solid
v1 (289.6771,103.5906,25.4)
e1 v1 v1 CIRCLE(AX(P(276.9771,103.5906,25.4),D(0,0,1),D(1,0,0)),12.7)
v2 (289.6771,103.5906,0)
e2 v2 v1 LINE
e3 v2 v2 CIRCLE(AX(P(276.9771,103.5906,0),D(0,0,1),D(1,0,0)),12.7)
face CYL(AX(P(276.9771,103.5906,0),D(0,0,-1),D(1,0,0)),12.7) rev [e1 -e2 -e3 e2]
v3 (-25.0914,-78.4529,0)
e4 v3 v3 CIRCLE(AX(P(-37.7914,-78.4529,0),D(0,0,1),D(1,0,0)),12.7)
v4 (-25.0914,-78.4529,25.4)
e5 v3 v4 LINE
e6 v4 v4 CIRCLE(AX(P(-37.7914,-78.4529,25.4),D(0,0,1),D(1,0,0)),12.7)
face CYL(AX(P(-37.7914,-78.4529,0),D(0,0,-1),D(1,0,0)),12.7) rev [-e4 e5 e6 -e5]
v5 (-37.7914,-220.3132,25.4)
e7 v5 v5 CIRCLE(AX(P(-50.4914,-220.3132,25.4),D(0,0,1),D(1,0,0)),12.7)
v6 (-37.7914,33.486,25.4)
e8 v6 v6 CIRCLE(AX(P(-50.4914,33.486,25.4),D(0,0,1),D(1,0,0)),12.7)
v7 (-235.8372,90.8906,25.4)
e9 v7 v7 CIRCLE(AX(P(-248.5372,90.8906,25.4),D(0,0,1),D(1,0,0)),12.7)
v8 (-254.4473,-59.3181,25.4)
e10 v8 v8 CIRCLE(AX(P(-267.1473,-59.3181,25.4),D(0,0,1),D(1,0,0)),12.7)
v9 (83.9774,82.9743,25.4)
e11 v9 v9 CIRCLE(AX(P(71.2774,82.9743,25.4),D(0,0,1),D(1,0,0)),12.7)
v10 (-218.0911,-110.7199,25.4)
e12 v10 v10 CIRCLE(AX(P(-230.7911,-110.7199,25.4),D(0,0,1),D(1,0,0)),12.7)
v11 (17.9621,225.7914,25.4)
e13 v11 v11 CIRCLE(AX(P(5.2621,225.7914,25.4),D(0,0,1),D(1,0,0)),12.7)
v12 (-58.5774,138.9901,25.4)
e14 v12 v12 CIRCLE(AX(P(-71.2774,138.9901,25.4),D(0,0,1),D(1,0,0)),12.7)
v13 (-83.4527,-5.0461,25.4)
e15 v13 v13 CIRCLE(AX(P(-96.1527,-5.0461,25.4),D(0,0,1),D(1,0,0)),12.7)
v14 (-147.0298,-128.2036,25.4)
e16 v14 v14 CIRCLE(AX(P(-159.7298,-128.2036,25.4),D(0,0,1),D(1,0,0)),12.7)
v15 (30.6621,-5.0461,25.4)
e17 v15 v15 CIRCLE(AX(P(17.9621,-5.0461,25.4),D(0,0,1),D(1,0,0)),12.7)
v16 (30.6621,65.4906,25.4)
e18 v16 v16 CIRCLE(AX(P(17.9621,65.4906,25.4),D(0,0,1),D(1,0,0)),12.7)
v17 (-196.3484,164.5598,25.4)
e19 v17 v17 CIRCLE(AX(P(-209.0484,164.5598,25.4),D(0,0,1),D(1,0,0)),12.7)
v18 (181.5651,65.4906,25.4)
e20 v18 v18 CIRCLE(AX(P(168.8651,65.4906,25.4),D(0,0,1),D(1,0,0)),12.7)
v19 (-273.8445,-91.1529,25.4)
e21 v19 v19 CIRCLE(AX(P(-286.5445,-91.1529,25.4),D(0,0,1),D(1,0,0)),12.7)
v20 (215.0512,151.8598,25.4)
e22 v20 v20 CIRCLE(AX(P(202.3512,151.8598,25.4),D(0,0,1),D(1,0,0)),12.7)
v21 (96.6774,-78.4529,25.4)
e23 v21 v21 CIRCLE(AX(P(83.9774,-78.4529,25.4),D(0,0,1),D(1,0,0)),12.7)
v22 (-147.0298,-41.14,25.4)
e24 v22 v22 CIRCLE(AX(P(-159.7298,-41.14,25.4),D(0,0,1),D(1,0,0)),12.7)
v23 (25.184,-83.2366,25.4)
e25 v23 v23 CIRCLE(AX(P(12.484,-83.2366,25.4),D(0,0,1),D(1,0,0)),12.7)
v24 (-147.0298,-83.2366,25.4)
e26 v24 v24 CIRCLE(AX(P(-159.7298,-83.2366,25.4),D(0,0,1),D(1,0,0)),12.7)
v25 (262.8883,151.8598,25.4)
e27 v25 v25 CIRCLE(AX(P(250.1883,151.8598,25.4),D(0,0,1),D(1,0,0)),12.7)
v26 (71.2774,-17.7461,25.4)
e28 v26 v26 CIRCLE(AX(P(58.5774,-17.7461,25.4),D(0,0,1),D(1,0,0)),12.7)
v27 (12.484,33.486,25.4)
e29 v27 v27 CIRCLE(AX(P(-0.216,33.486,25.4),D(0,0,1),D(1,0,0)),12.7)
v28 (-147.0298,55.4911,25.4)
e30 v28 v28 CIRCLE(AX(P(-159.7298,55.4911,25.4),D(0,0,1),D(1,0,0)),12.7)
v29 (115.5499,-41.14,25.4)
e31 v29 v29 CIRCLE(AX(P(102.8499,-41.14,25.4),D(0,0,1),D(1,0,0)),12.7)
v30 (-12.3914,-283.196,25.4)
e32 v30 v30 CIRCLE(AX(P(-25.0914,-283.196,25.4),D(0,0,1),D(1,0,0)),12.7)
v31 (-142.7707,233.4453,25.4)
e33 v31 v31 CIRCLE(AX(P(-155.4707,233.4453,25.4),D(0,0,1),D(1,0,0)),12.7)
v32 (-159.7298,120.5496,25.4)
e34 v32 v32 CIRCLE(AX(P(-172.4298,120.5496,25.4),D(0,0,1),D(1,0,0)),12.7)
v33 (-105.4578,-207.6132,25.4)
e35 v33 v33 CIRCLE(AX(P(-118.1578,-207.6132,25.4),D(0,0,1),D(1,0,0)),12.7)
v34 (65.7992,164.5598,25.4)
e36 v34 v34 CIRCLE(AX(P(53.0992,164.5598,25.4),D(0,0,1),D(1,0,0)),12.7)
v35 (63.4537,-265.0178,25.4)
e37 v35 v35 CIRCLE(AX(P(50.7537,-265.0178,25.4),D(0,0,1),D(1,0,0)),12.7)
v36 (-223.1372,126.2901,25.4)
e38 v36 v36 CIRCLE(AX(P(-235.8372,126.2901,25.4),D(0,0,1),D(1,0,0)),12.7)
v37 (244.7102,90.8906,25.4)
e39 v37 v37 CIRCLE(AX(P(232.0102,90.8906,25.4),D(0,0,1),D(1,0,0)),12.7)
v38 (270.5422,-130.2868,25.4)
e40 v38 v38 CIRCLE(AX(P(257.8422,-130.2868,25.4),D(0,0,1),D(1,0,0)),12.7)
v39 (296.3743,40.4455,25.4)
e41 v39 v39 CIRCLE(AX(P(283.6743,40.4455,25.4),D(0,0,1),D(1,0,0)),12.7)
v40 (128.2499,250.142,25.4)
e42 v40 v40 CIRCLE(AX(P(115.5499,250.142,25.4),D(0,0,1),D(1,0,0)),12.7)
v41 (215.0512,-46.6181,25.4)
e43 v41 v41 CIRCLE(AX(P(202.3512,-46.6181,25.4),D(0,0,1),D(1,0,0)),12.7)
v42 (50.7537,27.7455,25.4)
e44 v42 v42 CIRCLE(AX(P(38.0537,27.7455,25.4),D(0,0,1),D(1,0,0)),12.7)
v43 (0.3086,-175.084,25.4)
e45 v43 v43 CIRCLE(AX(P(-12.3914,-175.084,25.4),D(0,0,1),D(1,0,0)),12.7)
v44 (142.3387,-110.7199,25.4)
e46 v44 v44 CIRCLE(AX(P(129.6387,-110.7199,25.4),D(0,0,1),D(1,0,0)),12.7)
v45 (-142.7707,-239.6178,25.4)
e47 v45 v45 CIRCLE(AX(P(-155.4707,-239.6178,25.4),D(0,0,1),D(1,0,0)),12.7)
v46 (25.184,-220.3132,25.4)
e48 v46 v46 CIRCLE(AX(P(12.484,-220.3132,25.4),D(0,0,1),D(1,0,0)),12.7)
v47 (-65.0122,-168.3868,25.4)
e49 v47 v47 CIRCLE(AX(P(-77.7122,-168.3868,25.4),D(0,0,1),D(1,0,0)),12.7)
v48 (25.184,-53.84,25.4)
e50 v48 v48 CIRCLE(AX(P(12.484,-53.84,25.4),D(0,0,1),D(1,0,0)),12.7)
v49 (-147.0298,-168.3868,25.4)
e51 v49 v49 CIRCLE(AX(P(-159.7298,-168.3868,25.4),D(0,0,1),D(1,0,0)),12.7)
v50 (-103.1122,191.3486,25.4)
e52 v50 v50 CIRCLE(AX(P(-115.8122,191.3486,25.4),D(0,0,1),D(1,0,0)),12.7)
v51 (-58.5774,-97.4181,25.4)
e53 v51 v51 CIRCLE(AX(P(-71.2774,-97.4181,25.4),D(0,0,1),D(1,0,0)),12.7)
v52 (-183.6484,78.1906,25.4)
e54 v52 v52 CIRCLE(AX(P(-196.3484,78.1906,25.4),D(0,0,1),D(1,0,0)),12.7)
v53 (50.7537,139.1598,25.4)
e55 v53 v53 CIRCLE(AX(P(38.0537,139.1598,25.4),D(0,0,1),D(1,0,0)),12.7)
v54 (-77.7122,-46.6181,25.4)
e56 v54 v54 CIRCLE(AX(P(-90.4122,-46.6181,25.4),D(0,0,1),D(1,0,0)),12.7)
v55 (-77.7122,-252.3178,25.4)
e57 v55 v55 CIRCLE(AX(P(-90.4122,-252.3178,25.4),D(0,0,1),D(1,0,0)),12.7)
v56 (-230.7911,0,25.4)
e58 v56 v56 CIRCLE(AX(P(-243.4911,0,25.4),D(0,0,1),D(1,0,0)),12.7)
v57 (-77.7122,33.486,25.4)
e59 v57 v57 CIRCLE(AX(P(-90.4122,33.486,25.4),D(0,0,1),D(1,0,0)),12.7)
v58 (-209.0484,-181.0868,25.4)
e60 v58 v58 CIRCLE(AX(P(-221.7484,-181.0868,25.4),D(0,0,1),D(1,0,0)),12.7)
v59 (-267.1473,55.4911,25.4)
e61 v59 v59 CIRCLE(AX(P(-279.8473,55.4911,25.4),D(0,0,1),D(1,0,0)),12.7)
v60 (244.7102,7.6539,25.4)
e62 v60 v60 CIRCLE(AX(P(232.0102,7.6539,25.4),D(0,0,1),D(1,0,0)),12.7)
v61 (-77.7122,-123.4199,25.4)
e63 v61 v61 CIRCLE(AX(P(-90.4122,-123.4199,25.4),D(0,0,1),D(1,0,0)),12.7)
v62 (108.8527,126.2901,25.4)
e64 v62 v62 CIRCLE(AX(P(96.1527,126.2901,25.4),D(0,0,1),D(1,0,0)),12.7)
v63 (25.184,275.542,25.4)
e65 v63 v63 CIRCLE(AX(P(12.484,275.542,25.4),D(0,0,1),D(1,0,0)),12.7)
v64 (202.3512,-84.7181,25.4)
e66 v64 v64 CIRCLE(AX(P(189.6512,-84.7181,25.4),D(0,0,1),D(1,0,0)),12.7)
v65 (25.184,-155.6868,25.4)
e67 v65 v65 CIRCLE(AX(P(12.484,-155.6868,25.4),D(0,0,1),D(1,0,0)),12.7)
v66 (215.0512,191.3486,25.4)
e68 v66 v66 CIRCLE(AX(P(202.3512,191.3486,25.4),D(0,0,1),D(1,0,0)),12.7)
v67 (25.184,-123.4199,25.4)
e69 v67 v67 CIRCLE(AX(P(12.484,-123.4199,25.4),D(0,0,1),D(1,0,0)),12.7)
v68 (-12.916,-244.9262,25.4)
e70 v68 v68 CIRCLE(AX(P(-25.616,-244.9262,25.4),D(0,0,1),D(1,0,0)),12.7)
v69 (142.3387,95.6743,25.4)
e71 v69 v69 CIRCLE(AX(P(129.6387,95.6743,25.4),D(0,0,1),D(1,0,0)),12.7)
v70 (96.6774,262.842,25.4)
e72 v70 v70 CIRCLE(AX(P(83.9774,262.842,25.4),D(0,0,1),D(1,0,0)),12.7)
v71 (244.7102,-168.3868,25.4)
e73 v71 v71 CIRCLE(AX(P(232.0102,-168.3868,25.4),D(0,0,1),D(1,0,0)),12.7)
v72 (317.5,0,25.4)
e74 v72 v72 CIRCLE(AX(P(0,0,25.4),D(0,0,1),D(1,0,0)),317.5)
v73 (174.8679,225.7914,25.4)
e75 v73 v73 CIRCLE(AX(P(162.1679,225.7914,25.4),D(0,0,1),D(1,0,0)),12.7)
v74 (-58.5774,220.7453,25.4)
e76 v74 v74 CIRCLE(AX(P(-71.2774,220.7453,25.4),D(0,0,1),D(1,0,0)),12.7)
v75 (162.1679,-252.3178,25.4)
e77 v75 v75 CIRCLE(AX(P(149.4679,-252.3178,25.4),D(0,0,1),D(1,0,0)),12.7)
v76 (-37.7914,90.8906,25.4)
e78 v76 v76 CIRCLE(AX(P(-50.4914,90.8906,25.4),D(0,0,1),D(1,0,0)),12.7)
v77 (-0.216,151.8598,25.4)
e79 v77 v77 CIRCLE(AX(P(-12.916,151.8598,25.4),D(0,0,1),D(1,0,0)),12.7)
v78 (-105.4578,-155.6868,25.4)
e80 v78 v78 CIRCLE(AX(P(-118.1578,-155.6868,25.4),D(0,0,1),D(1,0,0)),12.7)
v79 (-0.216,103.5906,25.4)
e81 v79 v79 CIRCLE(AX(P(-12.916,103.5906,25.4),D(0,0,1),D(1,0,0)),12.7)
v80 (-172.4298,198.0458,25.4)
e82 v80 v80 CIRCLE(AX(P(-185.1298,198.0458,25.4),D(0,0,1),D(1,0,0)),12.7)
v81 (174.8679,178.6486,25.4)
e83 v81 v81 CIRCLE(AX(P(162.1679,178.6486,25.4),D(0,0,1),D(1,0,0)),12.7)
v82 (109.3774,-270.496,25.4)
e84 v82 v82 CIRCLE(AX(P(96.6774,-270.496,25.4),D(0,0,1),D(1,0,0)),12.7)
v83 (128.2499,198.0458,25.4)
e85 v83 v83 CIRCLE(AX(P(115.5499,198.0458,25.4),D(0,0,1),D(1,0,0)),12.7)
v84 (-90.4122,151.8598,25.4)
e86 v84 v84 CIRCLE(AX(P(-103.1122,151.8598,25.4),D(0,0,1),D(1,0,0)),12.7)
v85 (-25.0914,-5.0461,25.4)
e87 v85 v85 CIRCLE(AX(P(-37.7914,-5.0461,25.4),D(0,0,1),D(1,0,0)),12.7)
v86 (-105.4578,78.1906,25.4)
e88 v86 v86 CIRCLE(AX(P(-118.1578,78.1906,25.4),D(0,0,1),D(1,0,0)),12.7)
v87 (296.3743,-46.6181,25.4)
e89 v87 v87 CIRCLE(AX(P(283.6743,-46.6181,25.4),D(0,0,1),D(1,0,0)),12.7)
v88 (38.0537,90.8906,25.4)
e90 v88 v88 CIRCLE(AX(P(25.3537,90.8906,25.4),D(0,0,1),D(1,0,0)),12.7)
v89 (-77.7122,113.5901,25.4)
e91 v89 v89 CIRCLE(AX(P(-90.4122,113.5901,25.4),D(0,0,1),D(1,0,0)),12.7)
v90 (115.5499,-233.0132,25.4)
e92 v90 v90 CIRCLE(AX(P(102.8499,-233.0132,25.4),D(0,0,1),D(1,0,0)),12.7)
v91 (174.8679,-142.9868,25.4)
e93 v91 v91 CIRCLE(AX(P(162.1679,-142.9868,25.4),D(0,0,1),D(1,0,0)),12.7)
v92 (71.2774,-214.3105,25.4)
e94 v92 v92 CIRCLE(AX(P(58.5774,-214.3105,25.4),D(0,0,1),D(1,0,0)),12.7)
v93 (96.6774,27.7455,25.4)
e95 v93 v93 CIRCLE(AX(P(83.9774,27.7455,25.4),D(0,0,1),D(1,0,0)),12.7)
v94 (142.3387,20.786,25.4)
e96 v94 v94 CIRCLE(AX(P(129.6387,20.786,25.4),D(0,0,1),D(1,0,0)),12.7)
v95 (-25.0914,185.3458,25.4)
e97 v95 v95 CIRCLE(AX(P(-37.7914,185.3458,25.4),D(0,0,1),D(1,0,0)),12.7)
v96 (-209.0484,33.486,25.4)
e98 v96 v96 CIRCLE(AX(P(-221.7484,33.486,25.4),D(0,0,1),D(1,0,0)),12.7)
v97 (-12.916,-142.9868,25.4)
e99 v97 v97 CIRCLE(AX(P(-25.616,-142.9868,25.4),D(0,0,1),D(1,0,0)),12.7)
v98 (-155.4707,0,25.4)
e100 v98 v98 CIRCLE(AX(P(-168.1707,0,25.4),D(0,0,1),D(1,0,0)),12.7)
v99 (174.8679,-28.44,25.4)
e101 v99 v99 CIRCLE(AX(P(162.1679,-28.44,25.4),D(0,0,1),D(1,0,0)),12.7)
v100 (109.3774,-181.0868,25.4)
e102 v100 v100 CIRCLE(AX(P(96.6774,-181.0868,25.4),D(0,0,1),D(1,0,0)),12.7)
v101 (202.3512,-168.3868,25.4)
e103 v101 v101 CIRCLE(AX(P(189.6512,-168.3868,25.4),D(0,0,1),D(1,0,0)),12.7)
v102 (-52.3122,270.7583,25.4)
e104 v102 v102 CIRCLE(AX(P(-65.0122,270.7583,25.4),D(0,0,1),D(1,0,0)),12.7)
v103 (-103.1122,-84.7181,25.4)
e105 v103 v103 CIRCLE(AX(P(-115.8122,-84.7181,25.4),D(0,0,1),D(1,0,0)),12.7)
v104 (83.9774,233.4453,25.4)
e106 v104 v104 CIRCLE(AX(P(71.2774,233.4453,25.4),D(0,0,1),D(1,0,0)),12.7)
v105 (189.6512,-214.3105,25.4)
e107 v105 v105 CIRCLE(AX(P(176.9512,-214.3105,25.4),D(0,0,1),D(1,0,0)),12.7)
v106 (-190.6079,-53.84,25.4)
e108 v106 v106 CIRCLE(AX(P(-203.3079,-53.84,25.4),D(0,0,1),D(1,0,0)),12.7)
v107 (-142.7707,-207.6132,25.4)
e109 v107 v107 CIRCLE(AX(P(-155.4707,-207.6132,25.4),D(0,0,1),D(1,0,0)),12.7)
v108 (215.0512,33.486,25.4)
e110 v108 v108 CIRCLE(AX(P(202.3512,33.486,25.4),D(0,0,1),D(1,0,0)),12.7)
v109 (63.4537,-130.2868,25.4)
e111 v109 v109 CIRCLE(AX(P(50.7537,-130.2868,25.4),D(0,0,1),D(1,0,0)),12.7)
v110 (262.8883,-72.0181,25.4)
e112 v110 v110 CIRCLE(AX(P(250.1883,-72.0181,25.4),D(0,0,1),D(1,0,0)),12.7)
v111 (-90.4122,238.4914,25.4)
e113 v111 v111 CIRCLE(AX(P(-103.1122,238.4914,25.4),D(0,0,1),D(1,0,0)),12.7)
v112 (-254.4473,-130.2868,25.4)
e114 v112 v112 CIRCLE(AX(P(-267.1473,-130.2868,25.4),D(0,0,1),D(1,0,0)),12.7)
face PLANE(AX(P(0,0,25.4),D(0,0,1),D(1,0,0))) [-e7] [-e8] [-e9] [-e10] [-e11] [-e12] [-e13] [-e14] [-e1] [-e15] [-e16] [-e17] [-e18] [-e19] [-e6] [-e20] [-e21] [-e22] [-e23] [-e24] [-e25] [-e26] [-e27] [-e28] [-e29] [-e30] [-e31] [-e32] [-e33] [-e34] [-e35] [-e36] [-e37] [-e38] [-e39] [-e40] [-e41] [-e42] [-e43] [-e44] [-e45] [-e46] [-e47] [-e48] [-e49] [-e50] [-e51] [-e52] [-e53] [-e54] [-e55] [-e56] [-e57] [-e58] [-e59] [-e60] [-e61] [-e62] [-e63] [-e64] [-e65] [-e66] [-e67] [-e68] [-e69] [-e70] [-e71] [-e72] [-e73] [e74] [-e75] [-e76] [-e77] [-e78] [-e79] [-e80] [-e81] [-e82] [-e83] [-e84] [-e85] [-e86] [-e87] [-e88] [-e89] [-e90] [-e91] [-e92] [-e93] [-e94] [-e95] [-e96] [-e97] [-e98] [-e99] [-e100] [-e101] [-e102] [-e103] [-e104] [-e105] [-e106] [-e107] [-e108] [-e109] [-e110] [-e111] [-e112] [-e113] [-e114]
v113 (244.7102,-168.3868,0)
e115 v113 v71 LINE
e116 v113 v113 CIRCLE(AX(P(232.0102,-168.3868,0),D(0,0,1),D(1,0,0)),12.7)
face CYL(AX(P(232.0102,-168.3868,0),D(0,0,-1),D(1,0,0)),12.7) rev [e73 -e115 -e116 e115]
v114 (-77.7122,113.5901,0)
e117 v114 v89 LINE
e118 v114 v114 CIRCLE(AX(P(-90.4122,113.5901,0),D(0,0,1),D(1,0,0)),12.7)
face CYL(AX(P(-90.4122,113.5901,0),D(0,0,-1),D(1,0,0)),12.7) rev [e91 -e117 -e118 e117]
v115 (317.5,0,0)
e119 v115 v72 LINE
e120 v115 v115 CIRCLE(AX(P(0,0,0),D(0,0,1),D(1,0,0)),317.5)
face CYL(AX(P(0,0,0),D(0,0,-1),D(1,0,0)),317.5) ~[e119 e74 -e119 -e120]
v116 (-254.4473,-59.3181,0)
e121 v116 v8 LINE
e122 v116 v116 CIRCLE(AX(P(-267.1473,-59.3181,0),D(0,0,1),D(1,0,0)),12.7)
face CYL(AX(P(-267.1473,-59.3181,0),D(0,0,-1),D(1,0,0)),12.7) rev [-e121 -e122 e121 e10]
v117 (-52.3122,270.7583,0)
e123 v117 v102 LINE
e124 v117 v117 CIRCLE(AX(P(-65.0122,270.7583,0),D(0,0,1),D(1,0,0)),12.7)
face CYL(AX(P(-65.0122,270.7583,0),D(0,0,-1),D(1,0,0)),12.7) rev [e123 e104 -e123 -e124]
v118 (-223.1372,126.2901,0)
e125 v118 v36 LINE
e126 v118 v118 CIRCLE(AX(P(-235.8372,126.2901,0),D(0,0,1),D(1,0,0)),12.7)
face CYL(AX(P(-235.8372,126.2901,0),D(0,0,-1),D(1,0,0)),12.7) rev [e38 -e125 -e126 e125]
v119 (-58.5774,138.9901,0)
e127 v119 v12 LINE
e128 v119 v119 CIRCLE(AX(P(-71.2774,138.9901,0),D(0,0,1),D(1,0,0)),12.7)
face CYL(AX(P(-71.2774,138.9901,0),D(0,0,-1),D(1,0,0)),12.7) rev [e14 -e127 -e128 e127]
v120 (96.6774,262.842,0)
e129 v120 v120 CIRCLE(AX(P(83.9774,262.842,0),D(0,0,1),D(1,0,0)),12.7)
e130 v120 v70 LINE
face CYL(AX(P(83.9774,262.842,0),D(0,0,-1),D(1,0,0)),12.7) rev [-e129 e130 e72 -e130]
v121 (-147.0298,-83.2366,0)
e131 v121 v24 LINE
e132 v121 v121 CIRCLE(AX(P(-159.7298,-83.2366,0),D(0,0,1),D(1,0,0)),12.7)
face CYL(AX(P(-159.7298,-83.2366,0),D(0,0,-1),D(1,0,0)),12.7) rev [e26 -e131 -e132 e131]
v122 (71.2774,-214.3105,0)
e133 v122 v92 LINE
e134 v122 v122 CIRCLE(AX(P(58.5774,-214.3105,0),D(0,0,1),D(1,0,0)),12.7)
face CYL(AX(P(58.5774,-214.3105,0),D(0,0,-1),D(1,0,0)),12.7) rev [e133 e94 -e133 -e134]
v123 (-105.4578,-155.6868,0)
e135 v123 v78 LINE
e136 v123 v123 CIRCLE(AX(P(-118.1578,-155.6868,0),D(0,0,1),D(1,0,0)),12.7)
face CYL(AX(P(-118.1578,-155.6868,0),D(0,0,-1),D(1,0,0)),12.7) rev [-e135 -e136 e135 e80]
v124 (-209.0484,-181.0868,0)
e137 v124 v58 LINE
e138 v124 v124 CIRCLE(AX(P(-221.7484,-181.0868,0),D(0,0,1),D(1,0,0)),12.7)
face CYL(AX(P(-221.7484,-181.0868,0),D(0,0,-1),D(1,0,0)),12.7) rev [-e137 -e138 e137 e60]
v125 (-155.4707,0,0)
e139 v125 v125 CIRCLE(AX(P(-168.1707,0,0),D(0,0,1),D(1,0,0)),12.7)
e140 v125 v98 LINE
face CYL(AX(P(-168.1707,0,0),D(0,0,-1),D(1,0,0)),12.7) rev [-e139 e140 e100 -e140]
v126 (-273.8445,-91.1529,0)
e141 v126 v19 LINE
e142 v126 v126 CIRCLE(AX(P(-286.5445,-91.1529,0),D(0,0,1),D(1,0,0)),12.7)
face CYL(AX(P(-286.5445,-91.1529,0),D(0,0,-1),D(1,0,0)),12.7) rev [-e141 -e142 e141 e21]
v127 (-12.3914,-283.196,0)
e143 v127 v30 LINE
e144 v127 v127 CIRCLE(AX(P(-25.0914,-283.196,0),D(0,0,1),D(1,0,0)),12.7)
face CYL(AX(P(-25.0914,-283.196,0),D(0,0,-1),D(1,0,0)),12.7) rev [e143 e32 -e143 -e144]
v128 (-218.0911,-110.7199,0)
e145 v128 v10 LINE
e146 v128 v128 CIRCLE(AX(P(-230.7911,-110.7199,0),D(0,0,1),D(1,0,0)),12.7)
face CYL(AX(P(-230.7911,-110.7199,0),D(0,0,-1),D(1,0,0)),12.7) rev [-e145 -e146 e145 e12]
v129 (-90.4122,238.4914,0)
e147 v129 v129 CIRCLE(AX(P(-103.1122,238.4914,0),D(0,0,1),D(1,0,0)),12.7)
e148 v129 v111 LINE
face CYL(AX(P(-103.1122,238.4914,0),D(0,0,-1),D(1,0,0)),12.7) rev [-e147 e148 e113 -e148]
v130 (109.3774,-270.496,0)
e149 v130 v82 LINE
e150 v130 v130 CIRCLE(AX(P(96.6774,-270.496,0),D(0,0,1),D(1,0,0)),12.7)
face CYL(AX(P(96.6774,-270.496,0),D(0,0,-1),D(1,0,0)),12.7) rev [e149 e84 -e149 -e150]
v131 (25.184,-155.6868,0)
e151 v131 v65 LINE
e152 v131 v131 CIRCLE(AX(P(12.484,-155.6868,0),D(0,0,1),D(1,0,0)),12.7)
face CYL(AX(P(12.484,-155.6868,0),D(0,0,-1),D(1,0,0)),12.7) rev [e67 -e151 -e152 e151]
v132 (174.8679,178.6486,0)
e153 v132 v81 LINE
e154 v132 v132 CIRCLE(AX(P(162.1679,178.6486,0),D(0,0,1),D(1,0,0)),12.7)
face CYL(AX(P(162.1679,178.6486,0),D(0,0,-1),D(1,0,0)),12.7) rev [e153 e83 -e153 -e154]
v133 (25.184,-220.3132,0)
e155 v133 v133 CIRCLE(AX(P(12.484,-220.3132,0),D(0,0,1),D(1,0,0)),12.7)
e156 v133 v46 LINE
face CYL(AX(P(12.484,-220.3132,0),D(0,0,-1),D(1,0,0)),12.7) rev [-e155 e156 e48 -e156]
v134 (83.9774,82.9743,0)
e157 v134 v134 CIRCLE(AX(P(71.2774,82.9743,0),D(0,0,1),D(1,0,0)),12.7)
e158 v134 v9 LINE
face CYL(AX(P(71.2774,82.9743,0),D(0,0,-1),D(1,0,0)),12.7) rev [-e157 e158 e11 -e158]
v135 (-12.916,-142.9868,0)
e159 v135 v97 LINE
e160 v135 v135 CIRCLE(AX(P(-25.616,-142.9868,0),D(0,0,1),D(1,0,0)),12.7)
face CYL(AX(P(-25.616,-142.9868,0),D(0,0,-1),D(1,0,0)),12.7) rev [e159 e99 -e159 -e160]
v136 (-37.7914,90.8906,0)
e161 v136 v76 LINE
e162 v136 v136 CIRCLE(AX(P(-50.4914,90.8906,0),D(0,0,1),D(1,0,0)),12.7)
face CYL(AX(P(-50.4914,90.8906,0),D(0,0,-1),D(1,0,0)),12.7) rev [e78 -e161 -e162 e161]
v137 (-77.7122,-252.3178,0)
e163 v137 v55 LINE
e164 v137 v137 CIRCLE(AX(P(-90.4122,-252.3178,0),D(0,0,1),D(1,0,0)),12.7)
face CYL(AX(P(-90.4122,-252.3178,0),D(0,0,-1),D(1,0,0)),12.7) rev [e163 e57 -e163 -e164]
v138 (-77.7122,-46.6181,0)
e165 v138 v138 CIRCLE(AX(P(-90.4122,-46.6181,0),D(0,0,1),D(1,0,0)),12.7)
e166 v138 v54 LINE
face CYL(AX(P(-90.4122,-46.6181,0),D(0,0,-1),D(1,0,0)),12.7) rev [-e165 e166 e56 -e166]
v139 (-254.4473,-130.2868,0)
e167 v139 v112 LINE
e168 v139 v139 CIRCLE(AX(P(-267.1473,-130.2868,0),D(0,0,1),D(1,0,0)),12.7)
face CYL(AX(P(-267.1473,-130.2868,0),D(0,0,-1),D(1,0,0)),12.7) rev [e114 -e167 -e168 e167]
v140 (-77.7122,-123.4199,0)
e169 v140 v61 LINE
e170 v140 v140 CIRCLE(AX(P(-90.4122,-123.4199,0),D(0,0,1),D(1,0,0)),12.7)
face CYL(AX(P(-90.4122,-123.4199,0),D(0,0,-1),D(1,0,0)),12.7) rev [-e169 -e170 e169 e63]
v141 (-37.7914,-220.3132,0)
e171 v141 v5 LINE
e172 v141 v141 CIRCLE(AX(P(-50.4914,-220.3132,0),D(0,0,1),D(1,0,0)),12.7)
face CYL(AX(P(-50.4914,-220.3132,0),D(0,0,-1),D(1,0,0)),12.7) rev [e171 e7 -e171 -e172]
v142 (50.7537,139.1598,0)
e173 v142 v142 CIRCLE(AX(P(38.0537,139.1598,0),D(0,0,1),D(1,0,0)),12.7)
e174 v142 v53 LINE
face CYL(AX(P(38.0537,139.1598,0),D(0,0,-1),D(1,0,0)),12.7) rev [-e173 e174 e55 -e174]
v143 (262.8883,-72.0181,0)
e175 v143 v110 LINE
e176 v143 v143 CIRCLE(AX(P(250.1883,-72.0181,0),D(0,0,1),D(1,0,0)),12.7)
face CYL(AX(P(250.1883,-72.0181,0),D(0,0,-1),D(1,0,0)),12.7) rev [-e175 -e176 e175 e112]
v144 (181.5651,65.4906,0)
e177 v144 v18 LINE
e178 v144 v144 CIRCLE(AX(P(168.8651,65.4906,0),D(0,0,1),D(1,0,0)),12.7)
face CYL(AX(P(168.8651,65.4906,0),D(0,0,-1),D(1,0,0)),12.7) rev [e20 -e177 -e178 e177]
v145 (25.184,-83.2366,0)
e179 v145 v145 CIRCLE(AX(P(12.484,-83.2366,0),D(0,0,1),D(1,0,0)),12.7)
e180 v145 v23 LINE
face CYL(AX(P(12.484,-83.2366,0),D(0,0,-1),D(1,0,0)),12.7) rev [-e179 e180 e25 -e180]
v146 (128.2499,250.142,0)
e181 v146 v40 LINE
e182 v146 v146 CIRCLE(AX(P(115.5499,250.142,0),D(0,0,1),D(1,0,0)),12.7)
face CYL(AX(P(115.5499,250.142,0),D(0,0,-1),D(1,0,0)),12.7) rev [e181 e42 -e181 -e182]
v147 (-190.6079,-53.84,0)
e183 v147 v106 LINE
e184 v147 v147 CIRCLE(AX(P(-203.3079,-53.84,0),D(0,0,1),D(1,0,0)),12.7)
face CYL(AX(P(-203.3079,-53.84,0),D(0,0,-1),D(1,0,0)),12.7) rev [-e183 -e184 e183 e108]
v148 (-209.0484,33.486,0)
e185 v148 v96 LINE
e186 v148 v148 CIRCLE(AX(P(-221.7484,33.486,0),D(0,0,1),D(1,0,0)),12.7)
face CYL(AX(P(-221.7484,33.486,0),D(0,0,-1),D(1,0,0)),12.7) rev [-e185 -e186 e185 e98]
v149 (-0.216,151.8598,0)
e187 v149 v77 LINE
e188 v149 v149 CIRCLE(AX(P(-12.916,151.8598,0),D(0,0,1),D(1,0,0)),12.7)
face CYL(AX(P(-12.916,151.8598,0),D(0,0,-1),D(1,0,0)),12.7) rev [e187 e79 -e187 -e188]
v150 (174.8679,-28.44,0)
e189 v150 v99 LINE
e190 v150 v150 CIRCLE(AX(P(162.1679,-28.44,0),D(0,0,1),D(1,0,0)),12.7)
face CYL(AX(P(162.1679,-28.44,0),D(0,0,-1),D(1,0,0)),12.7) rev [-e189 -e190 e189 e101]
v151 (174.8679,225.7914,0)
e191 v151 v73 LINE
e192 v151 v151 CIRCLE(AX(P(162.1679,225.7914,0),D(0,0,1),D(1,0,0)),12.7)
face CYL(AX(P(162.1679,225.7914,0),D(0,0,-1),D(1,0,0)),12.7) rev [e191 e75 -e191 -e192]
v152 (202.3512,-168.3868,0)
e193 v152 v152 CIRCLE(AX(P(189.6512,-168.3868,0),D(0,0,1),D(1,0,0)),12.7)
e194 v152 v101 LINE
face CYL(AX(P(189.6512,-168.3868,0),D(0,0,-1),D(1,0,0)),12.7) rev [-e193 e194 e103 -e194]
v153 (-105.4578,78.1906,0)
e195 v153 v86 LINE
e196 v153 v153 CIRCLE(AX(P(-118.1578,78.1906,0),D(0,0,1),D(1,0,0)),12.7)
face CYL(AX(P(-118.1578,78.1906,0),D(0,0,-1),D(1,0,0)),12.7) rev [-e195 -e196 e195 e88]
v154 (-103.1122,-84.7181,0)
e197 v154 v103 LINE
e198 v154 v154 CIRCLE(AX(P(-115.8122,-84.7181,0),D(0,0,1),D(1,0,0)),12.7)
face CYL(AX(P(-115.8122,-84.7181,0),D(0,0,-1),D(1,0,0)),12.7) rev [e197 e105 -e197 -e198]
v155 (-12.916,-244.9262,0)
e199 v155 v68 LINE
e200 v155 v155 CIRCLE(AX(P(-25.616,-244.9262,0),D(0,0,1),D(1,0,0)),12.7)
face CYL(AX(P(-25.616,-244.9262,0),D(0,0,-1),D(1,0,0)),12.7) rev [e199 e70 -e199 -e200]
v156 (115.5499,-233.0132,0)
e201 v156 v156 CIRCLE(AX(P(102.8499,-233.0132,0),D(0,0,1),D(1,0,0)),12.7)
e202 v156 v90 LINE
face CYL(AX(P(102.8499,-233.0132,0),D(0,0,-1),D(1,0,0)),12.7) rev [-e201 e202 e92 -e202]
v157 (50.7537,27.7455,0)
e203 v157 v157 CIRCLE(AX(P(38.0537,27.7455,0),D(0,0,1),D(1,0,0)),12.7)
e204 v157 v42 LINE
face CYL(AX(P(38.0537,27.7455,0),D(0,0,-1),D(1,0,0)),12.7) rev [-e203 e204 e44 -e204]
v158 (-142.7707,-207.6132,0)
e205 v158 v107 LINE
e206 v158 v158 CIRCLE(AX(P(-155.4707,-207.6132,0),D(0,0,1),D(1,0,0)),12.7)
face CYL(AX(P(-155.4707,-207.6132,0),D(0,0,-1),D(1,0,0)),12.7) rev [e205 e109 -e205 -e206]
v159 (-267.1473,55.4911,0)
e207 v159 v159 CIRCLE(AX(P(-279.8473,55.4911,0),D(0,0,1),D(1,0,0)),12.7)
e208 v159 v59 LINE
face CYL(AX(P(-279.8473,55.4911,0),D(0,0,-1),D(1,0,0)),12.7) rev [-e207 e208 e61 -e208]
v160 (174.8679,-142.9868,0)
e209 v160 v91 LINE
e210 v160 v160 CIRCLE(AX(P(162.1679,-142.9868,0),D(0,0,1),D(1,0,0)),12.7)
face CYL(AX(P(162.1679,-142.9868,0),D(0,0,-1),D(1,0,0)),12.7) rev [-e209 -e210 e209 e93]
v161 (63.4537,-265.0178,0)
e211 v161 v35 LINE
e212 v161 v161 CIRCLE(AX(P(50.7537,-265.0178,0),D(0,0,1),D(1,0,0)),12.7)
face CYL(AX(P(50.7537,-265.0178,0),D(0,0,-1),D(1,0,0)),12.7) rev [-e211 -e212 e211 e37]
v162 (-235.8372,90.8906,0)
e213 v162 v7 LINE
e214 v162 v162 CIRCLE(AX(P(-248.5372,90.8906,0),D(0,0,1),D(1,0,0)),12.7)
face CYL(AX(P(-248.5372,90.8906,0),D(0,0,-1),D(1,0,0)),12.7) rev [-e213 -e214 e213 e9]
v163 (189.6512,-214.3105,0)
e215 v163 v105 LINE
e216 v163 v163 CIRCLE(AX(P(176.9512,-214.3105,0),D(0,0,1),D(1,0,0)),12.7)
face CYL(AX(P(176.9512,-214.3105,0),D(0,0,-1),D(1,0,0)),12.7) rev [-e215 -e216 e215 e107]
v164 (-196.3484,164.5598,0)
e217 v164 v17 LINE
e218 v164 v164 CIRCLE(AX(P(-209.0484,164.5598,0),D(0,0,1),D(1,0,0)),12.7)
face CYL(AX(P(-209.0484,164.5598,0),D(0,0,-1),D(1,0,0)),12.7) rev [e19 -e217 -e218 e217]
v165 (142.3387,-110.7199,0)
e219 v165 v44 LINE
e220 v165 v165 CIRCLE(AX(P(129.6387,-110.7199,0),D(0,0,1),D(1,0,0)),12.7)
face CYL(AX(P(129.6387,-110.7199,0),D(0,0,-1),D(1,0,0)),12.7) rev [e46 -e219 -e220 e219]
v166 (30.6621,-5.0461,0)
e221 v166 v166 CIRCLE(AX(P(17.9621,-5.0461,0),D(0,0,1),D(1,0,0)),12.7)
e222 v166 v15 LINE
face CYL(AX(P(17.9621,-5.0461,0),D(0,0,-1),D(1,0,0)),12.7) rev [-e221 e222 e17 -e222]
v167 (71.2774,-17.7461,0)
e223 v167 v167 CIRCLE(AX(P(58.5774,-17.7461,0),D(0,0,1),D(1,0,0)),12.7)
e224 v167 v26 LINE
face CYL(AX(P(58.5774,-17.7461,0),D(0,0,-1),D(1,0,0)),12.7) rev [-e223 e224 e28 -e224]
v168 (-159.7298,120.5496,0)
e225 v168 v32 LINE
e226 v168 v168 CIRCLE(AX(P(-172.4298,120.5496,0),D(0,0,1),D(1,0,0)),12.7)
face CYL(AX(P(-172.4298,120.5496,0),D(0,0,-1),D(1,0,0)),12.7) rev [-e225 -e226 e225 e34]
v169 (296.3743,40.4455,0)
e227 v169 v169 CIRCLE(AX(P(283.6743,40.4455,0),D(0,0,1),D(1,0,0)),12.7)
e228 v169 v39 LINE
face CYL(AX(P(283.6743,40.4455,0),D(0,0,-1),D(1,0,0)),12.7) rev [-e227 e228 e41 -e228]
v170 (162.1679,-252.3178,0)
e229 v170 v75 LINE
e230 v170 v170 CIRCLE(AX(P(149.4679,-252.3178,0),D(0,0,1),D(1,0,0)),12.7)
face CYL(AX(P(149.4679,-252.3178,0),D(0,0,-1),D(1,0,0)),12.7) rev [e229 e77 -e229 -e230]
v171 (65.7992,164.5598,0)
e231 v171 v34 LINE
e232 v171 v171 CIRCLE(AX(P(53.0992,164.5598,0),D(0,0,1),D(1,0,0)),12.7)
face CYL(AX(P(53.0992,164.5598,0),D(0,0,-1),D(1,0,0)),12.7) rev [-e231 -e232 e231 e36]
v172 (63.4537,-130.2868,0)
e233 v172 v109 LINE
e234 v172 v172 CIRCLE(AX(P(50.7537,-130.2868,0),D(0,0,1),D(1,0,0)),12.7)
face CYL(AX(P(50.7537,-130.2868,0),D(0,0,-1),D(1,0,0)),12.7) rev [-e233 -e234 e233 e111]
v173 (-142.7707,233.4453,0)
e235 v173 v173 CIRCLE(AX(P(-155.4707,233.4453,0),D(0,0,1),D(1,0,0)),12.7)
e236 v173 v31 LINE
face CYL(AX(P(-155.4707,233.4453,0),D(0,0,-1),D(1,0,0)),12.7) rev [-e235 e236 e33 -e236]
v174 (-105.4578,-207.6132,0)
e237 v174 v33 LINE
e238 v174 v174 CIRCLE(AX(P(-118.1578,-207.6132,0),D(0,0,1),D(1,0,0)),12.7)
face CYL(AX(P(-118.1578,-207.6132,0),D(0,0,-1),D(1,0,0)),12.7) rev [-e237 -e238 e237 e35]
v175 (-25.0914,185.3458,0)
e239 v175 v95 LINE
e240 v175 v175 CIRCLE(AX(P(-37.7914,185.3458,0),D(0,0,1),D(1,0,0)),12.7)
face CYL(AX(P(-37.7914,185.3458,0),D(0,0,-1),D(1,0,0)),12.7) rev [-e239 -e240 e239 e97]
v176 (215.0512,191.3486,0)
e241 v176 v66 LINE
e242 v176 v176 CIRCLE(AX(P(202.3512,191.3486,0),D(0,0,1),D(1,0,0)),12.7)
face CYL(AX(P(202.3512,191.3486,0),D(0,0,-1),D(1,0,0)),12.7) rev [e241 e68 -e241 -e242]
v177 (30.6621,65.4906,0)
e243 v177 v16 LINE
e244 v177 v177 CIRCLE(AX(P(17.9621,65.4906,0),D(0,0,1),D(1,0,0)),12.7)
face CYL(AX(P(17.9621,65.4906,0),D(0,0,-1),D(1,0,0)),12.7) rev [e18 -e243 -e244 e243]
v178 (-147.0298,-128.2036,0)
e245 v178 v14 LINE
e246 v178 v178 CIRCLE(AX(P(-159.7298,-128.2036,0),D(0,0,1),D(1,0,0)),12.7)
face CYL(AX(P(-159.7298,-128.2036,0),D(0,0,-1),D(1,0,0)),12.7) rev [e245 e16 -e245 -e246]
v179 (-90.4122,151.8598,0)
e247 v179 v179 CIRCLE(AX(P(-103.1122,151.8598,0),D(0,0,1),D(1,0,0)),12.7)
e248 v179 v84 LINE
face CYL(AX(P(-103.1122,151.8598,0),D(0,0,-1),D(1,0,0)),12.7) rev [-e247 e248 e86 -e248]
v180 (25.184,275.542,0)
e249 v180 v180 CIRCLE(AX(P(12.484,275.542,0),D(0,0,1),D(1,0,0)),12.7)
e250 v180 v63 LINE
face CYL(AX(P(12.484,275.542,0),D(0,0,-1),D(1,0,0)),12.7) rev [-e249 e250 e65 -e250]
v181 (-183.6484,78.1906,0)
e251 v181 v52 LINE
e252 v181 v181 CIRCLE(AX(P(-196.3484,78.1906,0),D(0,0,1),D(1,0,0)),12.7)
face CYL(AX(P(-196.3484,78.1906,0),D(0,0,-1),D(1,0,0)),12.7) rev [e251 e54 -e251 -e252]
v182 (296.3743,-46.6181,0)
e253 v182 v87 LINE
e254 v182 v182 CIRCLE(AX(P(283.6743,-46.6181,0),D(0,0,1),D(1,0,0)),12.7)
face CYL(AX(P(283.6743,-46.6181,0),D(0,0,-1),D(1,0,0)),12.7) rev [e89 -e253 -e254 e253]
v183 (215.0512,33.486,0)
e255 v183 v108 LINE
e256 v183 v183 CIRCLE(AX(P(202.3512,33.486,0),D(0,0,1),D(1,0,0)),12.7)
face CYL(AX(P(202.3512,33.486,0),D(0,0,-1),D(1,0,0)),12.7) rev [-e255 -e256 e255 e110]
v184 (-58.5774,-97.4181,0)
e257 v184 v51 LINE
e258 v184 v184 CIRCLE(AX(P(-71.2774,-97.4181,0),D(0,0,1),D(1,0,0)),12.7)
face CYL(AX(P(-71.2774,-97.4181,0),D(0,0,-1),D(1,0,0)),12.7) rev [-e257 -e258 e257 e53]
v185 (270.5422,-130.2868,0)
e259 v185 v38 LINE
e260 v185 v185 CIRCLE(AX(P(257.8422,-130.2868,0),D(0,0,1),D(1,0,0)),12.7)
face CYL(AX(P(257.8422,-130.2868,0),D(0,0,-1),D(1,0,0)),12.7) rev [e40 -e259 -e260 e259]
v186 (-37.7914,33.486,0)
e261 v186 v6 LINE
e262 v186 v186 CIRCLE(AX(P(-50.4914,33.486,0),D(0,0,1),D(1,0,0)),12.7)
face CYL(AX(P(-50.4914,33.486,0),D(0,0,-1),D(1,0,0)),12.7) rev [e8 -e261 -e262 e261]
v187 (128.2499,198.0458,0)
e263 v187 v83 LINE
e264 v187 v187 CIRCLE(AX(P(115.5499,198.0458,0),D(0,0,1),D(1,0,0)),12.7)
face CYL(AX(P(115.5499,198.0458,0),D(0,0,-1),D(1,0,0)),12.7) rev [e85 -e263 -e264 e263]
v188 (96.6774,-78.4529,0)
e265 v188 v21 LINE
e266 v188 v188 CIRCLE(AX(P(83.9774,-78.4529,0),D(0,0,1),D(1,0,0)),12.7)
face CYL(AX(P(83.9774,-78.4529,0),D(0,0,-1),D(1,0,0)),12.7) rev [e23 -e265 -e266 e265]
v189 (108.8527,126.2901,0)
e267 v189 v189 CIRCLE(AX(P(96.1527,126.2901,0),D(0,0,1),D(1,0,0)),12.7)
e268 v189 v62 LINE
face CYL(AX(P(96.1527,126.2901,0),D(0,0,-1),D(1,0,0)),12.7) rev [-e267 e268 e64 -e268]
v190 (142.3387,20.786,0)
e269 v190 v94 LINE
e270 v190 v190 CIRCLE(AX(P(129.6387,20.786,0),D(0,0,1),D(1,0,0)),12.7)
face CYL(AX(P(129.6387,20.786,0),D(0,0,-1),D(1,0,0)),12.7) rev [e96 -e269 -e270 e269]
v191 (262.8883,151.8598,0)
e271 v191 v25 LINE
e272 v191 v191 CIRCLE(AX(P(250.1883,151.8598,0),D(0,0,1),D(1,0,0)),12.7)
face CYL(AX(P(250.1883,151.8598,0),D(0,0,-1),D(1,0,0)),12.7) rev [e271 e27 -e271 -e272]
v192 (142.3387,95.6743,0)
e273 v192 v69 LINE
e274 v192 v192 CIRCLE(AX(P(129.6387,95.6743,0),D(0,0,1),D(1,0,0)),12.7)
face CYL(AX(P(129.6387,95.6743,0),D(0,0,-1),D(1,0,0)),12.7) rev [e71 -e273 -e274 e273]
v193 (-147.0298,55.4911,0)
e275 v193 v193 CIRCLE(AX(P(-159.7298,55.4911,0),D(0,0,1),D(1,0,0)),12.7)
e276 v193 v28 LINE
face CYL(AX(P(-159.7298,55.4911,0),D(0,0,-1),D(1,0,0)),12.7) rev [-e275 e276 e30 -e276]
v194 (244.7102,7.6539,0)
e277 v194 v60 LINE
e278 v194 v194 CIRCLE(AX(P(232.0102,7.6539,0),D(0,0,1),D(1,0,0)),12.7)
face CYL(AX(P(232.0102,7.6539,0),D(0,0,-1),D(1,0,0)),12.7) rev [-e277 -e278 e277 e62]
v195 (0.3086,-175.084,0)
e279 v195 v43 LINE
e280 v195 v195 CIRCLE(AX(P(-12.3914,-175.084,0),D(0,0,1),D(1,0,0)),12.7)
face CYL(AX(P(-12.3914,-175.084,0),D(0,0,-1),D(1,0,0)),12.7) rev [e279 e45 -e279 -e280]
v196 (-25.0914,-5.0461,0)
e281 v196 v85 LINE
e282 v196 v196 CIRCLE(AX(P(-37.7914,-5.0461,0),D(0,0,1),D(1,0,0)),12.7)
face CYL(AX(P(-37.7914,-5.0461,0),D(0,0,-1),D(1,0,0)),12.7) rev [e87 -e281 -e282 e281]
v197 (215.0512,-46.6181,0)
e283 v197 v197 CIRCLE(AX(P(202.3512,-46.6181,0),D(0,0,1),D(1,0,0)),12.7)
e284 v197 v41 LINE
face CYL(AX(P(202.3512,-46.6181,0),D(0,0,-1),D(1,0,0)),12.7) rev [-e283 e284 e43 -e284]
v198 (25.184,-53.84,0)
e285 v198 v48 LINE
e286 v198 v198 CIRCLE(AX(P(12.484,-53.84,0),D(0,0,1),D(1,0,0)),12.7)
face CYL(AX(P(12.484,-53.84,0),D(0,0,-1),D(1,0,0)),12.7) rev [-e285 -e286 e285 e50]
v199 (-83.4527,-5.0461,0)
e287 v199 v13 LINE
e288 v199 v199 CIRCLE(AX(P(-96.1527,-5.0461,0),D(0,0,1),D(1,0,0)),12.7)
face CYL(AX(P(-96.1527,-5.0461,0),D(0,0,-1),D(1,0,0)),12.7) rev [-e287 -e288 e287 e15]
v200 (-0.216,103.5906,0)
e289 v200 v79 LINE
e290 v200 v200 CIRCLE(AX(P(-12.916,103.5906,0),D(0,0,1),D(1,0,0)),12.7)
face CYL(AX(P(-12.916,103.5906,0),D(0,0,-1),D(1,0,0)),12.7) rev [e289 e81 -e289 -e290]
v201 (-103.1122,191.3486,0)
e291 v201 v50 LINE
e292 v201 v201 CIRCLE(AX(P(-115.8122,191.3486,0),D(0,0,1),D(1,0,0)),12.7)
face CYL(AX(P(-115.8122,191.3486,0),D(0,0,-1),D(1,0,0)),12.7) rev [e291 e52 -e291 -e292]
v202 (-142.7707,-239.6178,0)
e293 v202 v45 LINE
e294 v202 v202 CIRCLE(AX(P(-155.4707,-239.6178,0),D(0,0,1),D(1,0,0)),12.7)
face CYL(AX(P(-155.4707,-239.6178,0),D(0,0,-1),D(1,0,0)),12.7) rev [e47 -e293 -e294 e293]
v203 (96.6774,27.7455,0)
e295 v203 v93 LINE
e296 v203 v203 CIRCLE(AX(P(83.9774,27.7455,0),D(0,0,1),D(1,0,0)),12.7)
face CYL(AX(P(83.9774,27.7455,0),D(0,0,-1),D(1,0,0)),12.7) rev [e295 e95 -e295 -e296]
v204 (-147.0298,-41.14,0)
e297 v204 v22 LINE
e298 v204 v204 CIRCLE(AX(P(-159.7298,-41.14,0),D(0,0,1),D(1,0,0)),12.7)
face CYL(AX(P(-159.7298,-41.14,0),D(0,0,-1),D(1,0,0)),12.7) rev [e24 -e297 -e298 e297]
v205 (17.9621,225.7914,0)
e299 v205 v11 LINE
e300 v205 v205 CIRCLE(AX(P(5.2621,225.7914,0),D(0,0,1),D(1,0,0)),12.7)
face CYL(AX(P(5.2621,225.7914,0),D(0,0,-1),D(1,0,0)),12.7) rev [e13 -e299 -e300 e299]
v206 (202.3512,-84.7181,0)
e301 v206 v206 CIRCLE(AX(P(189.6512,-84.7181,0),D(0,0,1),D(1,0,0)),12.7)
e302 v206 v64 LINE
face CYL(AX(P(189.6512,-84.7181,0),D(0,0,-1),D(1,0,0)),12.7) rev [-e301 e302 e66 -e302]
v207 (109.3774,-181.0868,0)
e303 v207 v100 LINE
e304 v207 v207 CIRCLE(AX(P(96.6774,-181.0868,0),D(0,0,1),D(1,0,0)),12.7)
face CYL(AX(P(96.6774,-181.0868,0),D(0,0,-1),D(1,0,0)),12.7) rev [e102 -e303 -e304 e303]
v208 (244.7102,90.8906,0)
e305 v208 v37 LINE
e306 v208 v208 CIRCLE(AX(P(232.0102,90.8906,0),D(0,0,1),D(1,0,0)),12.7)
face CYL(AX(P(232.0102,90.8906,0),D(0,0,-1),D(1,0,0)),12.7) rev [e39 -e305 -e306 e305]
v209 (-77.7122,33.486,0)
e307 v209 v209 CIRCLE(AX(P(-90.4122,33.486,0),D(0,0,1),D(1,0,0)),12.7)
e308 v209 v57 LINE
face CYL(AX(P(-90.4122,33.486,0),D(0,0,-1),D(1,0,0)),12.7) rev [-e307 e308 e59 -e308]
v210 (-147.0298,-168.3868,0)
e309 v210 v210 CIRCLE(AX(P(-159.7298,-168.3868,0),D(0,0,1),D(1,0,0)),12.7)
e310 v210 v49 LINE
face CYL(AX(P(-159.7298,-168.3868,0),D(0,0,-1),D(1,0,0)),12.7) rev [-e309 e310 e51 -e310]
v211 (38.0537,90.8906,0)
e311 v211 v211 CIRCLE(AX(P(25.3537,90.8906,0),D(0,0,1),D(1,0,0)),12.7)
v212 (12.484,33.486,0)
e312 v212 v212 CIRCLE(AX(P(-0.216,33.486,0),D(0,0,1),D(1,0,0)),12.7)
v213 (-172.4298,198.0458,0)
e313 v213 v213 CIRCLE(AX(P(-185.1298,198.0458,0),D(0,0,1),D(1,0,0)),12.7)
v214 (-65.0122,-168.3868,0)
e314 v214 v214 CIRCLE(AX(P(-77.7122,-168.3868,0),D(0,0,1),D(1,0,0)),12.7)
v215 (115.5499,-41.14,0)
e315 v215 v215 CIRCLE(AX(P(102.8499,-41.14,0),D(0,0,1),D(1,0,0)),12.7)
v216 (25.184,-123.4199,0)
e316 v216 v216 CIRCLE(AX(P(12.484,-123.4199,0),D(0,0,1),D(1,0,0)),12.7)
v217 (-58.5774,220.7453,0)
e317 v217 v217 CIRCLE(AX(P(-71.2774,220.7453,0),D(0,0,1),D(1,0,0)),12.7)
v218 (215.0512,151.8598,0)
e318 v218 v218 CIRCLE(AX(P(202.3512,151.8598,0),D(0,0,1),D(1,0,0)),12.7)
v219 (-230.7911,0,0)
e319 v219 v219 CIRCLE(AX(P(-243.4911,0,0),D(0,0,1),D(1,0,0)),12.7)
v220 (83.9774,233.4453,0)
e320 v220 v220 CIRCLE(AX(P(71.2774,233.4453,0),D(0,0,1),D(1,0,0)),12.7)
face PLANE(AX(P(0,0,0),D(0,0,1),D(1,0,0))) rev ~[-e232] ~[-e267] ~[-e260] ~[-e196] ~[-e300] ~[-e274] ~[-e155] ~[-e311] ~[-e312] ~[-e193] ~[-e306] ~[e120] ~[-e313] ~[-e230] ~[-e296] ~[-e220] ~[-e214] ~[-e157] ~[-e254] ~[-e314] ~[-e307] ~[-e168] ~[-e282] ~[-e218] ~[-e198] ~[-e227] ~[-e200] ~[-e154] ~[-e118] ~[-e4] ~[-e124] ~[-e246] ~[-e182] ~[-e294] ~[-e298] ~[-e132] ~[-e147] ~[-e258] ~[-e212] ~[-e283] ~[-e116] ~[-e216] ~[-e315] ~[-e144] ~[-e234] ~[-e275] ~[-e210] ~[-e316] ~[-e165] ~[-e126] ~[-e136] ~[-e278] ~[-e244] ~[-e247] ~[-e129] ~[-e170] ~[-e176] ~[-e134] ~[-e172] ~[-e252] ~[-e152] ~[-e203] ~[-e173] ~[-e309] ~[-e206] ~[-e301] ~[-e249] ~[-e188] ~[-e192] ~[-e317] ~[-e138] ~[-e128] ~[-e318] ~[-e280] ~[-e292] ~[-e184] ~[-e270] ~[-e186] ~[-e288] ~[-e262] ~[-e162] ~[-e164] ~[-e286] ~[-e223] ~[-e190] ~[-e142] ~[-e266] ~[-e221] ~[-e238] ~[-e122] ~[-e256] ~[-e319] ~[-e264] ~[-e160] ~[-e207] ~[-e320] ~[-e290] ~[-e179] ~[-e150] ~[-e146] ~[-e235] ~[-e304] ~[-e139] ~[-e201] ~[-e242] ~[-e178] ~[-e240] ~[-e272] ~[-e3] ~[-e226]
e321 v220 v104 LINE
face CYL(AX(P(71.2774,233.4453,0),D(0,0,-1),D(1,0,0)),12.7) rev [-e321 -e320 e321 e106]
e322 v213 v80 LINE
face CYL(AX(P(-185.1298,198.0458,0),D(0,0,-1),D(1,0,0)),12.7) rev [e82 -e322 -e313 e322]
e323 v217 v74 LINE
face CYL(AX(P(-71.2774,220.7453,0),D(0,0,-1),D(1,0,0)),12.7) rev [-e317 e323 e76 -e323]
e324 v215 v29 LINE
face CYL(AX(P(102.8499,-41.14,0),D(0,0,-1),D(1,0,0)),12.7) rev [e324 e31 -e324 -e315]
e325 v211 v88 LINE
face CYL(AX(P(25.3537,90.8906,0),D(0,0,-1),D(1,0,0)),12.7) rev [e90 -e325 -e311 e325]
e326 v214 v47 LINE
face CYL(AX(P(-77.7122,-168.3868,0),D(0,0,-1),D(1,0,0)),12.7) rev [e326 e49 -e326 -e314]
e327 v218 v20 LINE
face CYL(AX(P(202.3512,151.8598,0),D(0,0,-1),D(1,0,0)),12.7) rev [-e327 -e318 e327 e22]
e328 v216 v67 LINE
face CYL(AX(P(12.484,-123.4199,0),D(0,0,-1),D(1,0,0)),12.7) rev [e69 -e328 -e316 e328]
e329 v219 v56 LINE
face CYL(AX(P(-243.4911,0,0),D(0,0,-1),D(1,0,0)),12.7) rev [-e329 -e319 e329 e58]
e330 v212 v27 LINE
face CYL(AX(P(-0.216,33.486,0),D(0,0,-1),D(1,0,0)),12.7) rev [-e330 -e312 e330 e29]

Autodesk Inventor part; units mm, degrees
ref_plane "YZ Plane" through (0, 0, 0) normal (1, 0, 0) x (0, 1, 0)
ref_plane "XZ Plane" through (0, 0, 0) normal (0, 1, 0) x (-1, 0, 0)
ref_plane "XY Plane" through (0, 0, 0) normal (0, 0, 1) x (1, 0, 0)
sketch "Sketch1" plane through (0, 0, 0) normal (0, 0, 1) x (1, 0, 0)
  circle A0 centre (0, 0) radius 317.5
  circle A1 centre (-155.4707, 233.4453) radius 12.7
  circle A2 centre (-185.1298, 198.0458) radius 12.7
  circle A3 centre (-209.0484, 164.5598) radius 12.7
  circle A4 centre (-235.8372, 126.2901) radius 12.7
  circle A5 centre (-248.5372, 90.8906) radius 12.7
  circle A6 centre (-279.8473, 55.4911) radius 12.7
  circle A7 centre (-142.7707, 164.5598) radius 12.7
  circle A8 centre (-172.4298, 120.5496) radius 12.7
  circle A9 centre (-196.3484, 78.1906) radius 12.7
  circle A10 centre (-221.7484, 33.486) radius 12.7
  circle A11 centre (-243.4911, 0) radius 12.7
  circle A12 centre (-159.7298, 55.4911) radius 12.7
  circle A13 centre (-168.1707, 0) radius 12.7
  circle A14 centre (-159.7298, -41.14) radius 12.7
  circle A15 centre (-159.7298, -83.2366) radius 12.7
  circle A16 centre (-159.7298, -128.2036) radius 12.7
  circle A17 centre (-159.7298, -168.3868) radius 12.7
  circle A18 centre (-155.4707, -207.6132) radius 12.7
  circle A19 centre (5.2621, 225.7914) radius 12.7
  circle A20 centre (-37.7914, 185.3458) radius 12.7
  circle A21 centre (-71.2774, 138.9901) radius 12.7
  circle A22 centre (-90.4122, 113.5901) radius 12.7
  circle A23 centre (-118.1578, 78.1906) radius 12.7
  circle A24 centre (53.0992, 164.5598) radius 12.7
  circle A25 centre (96.1527, 126.2901) radius 12.7
  circle A26 centre (129.6387, 95.6743) radius 12.7
  circle A27 centre (168.8651, 65.4906) radius 12.7
  circle A28 centre (202.3512, 33.486) radius 12.7
  circle A29 centre (232.0102, 7.6539) radius 12.7
  circle A30 centre (-50.4914, 90.8906) radius 12.7
  circle A31 centre (-12.916, 103.5906) radius 12.7
  circle A32 centre (25.3537, 90.8906) radius 12.7
  circle A33 centre (71.2774, 82.9743) radius 12.7
  circle A34 centre (-90.4122, 33.486) radius 12.7
  circle A35 centre (-50.4914, 33.486) radius 12.7
  circle A36 centre (-0.216, 33.486) radius 12.7
  circle A37 centre (38.0537, 27.7455) radius 12.7
  circle A38 centre (83.9774, 27.7455) radius 12.7
  circle A39 centre (129.6387, 20.786) radius 12.7
  circle A40 centre (17.9621, 65.4906) radius 12.7
  circle A41 centre (17.9621, -5.0461) radius 12.7
  circle A42 centre (12.484, -53.84) radius 12.7
  circle A43 centre (12.484, -83.2366) radius 12.7
  circle A44 centre (12.484, -123.4199) radius 12.7
  circle A45 centre (12.484, -155.6868) radius 12.7
  circle A46 centre (12.484, -220.3132) radius 12.7
  circle A47 centre (-25.616, -244.9262) radius 12.7
  circle A48 centre (-50.4914, -220.3132) radius 12.7
  circle A49 centre (-77.7122, -168.3868) radius 12.7
  circle A50 centre (-37.7914, -78.4529) radius 12.7
  circle A51 centre (-90.4122, -123.4199) radius 12.7
  circle A52 centre (83.9774, -78.4529) radius 12.7
  circle A53 centre (129.6387, -110.7199) radius 12.7
  circle A54 centre (162.1679, -142.9868) radius 12.7
  circle A55 centre (189.6512, -168.3868) radius 12.7
  circle A56 centre (50.7537, -130.2868) radius 12.7
  circle A57 centre (96.6774, -181.0868) radius 12.7
  circle A58 centre (102.8499, -233.0132) radius 12.7
  circle A59 centre (50.7537, -265.0178) radius 12.7
  circle A60 centre (-25.0914, -283.196) radius 12.7
  circle A61 centre (-90.4122, -252.3178) radius 12.7
  circle A62 centre (-155.4707, -239.6178) radius 12.7
  circle A63 centre (-221.7484, -181.0868) radius 12.7
  circle A64 centre (-230.7911, -110.7199) radius 12.7
  circle A65 centre (-203.3079, -53.84) radius 12.7
  circle A66 centre (-267.1473, -59.3181) radius 12.7
  circle A67 centre (-286.5445, -91.1529) radius 12.7
  circle A68 centre (-267.1473, -130.2868) radius 12.7
  circle A69 centre (-103.1122, 151.8598) radius 12.7
  circle A70 centre (-103.1122, 238.4914) radius 12.7
  circle A71 centre (-65.0122, 270.7583) radius 12.7
  circle A72 centre (-71.2774, 220.7453) radius 12.7
  circle A73 centre (-115.8122, 191.3486) radius 12.7
  circle A74 centre (71.2774, 233.4453) radius 12.7
  circle A75 centre (115.5499, 198.0458) radius 12.7
  circle A76 centre (162.1679, 178.6486) radius 12.7
  circle A77 centre (202.3512, 151.8598) radius 12.7
  circle A78 centre (232.0102, 90.8906) radius 12.7
  circle A79 centre (283.6743, 40.4455) radius 12.7
  circle A80 centre (162.1679, -28.44) radius 12.7
  circle A81 centre (250.1883, -72.0181) radius 12.7
  circle A82 centre (189.6512, -84.7181) radius 12.7
  circle A83 centre (102.8499, -41.14) radius 12.7
  circle A84 centre (58.5774, -17.7461) radius 12.7
  circle A85 centre (202.3512, -46.6181) radius 12.7
  circle A86 centre (283.6743, -46.6181) radius 12.7
  circle A87 centre (257.8422, -130.2868) radius 12.7
  circle A88 centre (232.0102, -168.3868) radius 12.7
  circle A89 centre (176.9512, -214.3105) radius 12.7
  circle A90 centre (149.4679, -252.3178) radius 12.7
  circle A91 centre (96.6774, -270.496) radius 12.7
  circle A92 centre (58.5774, -214.3105) radius 12.7
  circle A93 centre (-12.3914, -175.084) radius 12.7
  circle A94 centre (-71.2774, -97.4181) radius 12.7
  circle A95 centre (-90.4122, -46.6181) radius 12.7
  circle A96 centre (-37.7914, -5.0461) radius 12.7
  circle A97 centre (-96.1527, -5.0461) radius 12.7
  circle A98 centre (-115.8122, -84.7181) radius 12.7
  circle A99 centre (-118.1578, -155.6868) radius 12.7
  circle A100 centre (-118.1578, -207.6132) radius 12.7
  circle A101 centre (-25.616, -142.9868) radius 12.7
  circle A102 centre (-12.916, 151.8598) radius 12.7
  circle A103 centre (38.0537, 139.1598) radius 12.7
  circle A104 centre (12.484, 275.542) radius 12.7
  circle A105 centre (83.9774, 262.842) radius 12.7
  circle A106 centre (115.5499, 250.142) radius 12.7
  circle A107 centre (162.1679, 225.7914) radius 12.7
  circle A108 centre (202.3512, 191.3486) radius 12.7
  circle A109 centre (250.1883, 151.8598) radius 12.7
  circle A110 centre (276.9771, 103.5906) radius 12.7
  dimension "d0" = 635
  dimension "d1" = 25.4
  dimension "d2" = 25.4
  dimension "d3" = 25.4
  dimension "d4" = 25.4
  dimension "d5" = 25.4
  dimension "d6" = 25.4
  dimension "d7" = 25.4
  dimension "d8" = 25.4
  dimension "d9" = 25.4
  dimension "d10" = 25.4
  dimension "d11" = 25.4
  dimension "d12" = 25.4
  dimension "d13" = 25.4
  dimension "d14" = 25.4
  dimension "d15" = 25.4
  dimension "d16" = 25.4
  dimension "d17" = 25.4
  dimension "d18" = 25.4
  dimension "d19" = 25.4
  dimension "d20" = 25.4
  dimension "d21" = 25.4
  dimension "d22" = 25.4
  dimension "d23" = 25.4
  dimension "d25" = 25.4
  dimension "d26" = 25.4
  dimension "d27" = 25.4
  dimension "d28" = 25.4
  dimension "d29" = 25.4
  dimension "d30" = 25.4
  dimension "d31" = 25.4
  dimension "d32" = 25.4
  dimension "d33" = 25.4
  dimension "d34" = 25.4
  dimension "d35" = 25.4
  dimension "d36" = 25.4
  dimension "d37" = 25.4
  dimension "d38" = 25.4
  dimension "d39" = 25.4
  dimension "d40" = 25.4
  dimension "d41" = 25.4
  dimension "d42" = 25.4
  dimension "d43" = 25.4
  dimension "d44" = 25.4
  dimension "d45" = 25.4
  dimension "d46" = 25.4
  dimension "d48" = 25.4
  dimension "d49" = 25.4
  dimension "d50" = 25.4
  dimension "d51" = 25.4
  dimension "d52" = 25.4
  dimension "d54" = 25.4
  dimension "d55" = 25.4
  dimension "d56" = 25.4
  dimension "d57" = 25.4
  dimension "d58" = 25.4
  dimension "d59" = 25.4
  dimension "d60" = 25.4
  dimension "d61" = 25.4
  dimension "d62" = 25.4
  dimension "d63" = 25.4
  dimension "d64" = 25.4
  dimension "d65" = 25.4
  dimension "d66" = 25.4
extrude "Extrusion1" add sketch "Sketch1" along normal blind 25.4 contours A0 | A7
